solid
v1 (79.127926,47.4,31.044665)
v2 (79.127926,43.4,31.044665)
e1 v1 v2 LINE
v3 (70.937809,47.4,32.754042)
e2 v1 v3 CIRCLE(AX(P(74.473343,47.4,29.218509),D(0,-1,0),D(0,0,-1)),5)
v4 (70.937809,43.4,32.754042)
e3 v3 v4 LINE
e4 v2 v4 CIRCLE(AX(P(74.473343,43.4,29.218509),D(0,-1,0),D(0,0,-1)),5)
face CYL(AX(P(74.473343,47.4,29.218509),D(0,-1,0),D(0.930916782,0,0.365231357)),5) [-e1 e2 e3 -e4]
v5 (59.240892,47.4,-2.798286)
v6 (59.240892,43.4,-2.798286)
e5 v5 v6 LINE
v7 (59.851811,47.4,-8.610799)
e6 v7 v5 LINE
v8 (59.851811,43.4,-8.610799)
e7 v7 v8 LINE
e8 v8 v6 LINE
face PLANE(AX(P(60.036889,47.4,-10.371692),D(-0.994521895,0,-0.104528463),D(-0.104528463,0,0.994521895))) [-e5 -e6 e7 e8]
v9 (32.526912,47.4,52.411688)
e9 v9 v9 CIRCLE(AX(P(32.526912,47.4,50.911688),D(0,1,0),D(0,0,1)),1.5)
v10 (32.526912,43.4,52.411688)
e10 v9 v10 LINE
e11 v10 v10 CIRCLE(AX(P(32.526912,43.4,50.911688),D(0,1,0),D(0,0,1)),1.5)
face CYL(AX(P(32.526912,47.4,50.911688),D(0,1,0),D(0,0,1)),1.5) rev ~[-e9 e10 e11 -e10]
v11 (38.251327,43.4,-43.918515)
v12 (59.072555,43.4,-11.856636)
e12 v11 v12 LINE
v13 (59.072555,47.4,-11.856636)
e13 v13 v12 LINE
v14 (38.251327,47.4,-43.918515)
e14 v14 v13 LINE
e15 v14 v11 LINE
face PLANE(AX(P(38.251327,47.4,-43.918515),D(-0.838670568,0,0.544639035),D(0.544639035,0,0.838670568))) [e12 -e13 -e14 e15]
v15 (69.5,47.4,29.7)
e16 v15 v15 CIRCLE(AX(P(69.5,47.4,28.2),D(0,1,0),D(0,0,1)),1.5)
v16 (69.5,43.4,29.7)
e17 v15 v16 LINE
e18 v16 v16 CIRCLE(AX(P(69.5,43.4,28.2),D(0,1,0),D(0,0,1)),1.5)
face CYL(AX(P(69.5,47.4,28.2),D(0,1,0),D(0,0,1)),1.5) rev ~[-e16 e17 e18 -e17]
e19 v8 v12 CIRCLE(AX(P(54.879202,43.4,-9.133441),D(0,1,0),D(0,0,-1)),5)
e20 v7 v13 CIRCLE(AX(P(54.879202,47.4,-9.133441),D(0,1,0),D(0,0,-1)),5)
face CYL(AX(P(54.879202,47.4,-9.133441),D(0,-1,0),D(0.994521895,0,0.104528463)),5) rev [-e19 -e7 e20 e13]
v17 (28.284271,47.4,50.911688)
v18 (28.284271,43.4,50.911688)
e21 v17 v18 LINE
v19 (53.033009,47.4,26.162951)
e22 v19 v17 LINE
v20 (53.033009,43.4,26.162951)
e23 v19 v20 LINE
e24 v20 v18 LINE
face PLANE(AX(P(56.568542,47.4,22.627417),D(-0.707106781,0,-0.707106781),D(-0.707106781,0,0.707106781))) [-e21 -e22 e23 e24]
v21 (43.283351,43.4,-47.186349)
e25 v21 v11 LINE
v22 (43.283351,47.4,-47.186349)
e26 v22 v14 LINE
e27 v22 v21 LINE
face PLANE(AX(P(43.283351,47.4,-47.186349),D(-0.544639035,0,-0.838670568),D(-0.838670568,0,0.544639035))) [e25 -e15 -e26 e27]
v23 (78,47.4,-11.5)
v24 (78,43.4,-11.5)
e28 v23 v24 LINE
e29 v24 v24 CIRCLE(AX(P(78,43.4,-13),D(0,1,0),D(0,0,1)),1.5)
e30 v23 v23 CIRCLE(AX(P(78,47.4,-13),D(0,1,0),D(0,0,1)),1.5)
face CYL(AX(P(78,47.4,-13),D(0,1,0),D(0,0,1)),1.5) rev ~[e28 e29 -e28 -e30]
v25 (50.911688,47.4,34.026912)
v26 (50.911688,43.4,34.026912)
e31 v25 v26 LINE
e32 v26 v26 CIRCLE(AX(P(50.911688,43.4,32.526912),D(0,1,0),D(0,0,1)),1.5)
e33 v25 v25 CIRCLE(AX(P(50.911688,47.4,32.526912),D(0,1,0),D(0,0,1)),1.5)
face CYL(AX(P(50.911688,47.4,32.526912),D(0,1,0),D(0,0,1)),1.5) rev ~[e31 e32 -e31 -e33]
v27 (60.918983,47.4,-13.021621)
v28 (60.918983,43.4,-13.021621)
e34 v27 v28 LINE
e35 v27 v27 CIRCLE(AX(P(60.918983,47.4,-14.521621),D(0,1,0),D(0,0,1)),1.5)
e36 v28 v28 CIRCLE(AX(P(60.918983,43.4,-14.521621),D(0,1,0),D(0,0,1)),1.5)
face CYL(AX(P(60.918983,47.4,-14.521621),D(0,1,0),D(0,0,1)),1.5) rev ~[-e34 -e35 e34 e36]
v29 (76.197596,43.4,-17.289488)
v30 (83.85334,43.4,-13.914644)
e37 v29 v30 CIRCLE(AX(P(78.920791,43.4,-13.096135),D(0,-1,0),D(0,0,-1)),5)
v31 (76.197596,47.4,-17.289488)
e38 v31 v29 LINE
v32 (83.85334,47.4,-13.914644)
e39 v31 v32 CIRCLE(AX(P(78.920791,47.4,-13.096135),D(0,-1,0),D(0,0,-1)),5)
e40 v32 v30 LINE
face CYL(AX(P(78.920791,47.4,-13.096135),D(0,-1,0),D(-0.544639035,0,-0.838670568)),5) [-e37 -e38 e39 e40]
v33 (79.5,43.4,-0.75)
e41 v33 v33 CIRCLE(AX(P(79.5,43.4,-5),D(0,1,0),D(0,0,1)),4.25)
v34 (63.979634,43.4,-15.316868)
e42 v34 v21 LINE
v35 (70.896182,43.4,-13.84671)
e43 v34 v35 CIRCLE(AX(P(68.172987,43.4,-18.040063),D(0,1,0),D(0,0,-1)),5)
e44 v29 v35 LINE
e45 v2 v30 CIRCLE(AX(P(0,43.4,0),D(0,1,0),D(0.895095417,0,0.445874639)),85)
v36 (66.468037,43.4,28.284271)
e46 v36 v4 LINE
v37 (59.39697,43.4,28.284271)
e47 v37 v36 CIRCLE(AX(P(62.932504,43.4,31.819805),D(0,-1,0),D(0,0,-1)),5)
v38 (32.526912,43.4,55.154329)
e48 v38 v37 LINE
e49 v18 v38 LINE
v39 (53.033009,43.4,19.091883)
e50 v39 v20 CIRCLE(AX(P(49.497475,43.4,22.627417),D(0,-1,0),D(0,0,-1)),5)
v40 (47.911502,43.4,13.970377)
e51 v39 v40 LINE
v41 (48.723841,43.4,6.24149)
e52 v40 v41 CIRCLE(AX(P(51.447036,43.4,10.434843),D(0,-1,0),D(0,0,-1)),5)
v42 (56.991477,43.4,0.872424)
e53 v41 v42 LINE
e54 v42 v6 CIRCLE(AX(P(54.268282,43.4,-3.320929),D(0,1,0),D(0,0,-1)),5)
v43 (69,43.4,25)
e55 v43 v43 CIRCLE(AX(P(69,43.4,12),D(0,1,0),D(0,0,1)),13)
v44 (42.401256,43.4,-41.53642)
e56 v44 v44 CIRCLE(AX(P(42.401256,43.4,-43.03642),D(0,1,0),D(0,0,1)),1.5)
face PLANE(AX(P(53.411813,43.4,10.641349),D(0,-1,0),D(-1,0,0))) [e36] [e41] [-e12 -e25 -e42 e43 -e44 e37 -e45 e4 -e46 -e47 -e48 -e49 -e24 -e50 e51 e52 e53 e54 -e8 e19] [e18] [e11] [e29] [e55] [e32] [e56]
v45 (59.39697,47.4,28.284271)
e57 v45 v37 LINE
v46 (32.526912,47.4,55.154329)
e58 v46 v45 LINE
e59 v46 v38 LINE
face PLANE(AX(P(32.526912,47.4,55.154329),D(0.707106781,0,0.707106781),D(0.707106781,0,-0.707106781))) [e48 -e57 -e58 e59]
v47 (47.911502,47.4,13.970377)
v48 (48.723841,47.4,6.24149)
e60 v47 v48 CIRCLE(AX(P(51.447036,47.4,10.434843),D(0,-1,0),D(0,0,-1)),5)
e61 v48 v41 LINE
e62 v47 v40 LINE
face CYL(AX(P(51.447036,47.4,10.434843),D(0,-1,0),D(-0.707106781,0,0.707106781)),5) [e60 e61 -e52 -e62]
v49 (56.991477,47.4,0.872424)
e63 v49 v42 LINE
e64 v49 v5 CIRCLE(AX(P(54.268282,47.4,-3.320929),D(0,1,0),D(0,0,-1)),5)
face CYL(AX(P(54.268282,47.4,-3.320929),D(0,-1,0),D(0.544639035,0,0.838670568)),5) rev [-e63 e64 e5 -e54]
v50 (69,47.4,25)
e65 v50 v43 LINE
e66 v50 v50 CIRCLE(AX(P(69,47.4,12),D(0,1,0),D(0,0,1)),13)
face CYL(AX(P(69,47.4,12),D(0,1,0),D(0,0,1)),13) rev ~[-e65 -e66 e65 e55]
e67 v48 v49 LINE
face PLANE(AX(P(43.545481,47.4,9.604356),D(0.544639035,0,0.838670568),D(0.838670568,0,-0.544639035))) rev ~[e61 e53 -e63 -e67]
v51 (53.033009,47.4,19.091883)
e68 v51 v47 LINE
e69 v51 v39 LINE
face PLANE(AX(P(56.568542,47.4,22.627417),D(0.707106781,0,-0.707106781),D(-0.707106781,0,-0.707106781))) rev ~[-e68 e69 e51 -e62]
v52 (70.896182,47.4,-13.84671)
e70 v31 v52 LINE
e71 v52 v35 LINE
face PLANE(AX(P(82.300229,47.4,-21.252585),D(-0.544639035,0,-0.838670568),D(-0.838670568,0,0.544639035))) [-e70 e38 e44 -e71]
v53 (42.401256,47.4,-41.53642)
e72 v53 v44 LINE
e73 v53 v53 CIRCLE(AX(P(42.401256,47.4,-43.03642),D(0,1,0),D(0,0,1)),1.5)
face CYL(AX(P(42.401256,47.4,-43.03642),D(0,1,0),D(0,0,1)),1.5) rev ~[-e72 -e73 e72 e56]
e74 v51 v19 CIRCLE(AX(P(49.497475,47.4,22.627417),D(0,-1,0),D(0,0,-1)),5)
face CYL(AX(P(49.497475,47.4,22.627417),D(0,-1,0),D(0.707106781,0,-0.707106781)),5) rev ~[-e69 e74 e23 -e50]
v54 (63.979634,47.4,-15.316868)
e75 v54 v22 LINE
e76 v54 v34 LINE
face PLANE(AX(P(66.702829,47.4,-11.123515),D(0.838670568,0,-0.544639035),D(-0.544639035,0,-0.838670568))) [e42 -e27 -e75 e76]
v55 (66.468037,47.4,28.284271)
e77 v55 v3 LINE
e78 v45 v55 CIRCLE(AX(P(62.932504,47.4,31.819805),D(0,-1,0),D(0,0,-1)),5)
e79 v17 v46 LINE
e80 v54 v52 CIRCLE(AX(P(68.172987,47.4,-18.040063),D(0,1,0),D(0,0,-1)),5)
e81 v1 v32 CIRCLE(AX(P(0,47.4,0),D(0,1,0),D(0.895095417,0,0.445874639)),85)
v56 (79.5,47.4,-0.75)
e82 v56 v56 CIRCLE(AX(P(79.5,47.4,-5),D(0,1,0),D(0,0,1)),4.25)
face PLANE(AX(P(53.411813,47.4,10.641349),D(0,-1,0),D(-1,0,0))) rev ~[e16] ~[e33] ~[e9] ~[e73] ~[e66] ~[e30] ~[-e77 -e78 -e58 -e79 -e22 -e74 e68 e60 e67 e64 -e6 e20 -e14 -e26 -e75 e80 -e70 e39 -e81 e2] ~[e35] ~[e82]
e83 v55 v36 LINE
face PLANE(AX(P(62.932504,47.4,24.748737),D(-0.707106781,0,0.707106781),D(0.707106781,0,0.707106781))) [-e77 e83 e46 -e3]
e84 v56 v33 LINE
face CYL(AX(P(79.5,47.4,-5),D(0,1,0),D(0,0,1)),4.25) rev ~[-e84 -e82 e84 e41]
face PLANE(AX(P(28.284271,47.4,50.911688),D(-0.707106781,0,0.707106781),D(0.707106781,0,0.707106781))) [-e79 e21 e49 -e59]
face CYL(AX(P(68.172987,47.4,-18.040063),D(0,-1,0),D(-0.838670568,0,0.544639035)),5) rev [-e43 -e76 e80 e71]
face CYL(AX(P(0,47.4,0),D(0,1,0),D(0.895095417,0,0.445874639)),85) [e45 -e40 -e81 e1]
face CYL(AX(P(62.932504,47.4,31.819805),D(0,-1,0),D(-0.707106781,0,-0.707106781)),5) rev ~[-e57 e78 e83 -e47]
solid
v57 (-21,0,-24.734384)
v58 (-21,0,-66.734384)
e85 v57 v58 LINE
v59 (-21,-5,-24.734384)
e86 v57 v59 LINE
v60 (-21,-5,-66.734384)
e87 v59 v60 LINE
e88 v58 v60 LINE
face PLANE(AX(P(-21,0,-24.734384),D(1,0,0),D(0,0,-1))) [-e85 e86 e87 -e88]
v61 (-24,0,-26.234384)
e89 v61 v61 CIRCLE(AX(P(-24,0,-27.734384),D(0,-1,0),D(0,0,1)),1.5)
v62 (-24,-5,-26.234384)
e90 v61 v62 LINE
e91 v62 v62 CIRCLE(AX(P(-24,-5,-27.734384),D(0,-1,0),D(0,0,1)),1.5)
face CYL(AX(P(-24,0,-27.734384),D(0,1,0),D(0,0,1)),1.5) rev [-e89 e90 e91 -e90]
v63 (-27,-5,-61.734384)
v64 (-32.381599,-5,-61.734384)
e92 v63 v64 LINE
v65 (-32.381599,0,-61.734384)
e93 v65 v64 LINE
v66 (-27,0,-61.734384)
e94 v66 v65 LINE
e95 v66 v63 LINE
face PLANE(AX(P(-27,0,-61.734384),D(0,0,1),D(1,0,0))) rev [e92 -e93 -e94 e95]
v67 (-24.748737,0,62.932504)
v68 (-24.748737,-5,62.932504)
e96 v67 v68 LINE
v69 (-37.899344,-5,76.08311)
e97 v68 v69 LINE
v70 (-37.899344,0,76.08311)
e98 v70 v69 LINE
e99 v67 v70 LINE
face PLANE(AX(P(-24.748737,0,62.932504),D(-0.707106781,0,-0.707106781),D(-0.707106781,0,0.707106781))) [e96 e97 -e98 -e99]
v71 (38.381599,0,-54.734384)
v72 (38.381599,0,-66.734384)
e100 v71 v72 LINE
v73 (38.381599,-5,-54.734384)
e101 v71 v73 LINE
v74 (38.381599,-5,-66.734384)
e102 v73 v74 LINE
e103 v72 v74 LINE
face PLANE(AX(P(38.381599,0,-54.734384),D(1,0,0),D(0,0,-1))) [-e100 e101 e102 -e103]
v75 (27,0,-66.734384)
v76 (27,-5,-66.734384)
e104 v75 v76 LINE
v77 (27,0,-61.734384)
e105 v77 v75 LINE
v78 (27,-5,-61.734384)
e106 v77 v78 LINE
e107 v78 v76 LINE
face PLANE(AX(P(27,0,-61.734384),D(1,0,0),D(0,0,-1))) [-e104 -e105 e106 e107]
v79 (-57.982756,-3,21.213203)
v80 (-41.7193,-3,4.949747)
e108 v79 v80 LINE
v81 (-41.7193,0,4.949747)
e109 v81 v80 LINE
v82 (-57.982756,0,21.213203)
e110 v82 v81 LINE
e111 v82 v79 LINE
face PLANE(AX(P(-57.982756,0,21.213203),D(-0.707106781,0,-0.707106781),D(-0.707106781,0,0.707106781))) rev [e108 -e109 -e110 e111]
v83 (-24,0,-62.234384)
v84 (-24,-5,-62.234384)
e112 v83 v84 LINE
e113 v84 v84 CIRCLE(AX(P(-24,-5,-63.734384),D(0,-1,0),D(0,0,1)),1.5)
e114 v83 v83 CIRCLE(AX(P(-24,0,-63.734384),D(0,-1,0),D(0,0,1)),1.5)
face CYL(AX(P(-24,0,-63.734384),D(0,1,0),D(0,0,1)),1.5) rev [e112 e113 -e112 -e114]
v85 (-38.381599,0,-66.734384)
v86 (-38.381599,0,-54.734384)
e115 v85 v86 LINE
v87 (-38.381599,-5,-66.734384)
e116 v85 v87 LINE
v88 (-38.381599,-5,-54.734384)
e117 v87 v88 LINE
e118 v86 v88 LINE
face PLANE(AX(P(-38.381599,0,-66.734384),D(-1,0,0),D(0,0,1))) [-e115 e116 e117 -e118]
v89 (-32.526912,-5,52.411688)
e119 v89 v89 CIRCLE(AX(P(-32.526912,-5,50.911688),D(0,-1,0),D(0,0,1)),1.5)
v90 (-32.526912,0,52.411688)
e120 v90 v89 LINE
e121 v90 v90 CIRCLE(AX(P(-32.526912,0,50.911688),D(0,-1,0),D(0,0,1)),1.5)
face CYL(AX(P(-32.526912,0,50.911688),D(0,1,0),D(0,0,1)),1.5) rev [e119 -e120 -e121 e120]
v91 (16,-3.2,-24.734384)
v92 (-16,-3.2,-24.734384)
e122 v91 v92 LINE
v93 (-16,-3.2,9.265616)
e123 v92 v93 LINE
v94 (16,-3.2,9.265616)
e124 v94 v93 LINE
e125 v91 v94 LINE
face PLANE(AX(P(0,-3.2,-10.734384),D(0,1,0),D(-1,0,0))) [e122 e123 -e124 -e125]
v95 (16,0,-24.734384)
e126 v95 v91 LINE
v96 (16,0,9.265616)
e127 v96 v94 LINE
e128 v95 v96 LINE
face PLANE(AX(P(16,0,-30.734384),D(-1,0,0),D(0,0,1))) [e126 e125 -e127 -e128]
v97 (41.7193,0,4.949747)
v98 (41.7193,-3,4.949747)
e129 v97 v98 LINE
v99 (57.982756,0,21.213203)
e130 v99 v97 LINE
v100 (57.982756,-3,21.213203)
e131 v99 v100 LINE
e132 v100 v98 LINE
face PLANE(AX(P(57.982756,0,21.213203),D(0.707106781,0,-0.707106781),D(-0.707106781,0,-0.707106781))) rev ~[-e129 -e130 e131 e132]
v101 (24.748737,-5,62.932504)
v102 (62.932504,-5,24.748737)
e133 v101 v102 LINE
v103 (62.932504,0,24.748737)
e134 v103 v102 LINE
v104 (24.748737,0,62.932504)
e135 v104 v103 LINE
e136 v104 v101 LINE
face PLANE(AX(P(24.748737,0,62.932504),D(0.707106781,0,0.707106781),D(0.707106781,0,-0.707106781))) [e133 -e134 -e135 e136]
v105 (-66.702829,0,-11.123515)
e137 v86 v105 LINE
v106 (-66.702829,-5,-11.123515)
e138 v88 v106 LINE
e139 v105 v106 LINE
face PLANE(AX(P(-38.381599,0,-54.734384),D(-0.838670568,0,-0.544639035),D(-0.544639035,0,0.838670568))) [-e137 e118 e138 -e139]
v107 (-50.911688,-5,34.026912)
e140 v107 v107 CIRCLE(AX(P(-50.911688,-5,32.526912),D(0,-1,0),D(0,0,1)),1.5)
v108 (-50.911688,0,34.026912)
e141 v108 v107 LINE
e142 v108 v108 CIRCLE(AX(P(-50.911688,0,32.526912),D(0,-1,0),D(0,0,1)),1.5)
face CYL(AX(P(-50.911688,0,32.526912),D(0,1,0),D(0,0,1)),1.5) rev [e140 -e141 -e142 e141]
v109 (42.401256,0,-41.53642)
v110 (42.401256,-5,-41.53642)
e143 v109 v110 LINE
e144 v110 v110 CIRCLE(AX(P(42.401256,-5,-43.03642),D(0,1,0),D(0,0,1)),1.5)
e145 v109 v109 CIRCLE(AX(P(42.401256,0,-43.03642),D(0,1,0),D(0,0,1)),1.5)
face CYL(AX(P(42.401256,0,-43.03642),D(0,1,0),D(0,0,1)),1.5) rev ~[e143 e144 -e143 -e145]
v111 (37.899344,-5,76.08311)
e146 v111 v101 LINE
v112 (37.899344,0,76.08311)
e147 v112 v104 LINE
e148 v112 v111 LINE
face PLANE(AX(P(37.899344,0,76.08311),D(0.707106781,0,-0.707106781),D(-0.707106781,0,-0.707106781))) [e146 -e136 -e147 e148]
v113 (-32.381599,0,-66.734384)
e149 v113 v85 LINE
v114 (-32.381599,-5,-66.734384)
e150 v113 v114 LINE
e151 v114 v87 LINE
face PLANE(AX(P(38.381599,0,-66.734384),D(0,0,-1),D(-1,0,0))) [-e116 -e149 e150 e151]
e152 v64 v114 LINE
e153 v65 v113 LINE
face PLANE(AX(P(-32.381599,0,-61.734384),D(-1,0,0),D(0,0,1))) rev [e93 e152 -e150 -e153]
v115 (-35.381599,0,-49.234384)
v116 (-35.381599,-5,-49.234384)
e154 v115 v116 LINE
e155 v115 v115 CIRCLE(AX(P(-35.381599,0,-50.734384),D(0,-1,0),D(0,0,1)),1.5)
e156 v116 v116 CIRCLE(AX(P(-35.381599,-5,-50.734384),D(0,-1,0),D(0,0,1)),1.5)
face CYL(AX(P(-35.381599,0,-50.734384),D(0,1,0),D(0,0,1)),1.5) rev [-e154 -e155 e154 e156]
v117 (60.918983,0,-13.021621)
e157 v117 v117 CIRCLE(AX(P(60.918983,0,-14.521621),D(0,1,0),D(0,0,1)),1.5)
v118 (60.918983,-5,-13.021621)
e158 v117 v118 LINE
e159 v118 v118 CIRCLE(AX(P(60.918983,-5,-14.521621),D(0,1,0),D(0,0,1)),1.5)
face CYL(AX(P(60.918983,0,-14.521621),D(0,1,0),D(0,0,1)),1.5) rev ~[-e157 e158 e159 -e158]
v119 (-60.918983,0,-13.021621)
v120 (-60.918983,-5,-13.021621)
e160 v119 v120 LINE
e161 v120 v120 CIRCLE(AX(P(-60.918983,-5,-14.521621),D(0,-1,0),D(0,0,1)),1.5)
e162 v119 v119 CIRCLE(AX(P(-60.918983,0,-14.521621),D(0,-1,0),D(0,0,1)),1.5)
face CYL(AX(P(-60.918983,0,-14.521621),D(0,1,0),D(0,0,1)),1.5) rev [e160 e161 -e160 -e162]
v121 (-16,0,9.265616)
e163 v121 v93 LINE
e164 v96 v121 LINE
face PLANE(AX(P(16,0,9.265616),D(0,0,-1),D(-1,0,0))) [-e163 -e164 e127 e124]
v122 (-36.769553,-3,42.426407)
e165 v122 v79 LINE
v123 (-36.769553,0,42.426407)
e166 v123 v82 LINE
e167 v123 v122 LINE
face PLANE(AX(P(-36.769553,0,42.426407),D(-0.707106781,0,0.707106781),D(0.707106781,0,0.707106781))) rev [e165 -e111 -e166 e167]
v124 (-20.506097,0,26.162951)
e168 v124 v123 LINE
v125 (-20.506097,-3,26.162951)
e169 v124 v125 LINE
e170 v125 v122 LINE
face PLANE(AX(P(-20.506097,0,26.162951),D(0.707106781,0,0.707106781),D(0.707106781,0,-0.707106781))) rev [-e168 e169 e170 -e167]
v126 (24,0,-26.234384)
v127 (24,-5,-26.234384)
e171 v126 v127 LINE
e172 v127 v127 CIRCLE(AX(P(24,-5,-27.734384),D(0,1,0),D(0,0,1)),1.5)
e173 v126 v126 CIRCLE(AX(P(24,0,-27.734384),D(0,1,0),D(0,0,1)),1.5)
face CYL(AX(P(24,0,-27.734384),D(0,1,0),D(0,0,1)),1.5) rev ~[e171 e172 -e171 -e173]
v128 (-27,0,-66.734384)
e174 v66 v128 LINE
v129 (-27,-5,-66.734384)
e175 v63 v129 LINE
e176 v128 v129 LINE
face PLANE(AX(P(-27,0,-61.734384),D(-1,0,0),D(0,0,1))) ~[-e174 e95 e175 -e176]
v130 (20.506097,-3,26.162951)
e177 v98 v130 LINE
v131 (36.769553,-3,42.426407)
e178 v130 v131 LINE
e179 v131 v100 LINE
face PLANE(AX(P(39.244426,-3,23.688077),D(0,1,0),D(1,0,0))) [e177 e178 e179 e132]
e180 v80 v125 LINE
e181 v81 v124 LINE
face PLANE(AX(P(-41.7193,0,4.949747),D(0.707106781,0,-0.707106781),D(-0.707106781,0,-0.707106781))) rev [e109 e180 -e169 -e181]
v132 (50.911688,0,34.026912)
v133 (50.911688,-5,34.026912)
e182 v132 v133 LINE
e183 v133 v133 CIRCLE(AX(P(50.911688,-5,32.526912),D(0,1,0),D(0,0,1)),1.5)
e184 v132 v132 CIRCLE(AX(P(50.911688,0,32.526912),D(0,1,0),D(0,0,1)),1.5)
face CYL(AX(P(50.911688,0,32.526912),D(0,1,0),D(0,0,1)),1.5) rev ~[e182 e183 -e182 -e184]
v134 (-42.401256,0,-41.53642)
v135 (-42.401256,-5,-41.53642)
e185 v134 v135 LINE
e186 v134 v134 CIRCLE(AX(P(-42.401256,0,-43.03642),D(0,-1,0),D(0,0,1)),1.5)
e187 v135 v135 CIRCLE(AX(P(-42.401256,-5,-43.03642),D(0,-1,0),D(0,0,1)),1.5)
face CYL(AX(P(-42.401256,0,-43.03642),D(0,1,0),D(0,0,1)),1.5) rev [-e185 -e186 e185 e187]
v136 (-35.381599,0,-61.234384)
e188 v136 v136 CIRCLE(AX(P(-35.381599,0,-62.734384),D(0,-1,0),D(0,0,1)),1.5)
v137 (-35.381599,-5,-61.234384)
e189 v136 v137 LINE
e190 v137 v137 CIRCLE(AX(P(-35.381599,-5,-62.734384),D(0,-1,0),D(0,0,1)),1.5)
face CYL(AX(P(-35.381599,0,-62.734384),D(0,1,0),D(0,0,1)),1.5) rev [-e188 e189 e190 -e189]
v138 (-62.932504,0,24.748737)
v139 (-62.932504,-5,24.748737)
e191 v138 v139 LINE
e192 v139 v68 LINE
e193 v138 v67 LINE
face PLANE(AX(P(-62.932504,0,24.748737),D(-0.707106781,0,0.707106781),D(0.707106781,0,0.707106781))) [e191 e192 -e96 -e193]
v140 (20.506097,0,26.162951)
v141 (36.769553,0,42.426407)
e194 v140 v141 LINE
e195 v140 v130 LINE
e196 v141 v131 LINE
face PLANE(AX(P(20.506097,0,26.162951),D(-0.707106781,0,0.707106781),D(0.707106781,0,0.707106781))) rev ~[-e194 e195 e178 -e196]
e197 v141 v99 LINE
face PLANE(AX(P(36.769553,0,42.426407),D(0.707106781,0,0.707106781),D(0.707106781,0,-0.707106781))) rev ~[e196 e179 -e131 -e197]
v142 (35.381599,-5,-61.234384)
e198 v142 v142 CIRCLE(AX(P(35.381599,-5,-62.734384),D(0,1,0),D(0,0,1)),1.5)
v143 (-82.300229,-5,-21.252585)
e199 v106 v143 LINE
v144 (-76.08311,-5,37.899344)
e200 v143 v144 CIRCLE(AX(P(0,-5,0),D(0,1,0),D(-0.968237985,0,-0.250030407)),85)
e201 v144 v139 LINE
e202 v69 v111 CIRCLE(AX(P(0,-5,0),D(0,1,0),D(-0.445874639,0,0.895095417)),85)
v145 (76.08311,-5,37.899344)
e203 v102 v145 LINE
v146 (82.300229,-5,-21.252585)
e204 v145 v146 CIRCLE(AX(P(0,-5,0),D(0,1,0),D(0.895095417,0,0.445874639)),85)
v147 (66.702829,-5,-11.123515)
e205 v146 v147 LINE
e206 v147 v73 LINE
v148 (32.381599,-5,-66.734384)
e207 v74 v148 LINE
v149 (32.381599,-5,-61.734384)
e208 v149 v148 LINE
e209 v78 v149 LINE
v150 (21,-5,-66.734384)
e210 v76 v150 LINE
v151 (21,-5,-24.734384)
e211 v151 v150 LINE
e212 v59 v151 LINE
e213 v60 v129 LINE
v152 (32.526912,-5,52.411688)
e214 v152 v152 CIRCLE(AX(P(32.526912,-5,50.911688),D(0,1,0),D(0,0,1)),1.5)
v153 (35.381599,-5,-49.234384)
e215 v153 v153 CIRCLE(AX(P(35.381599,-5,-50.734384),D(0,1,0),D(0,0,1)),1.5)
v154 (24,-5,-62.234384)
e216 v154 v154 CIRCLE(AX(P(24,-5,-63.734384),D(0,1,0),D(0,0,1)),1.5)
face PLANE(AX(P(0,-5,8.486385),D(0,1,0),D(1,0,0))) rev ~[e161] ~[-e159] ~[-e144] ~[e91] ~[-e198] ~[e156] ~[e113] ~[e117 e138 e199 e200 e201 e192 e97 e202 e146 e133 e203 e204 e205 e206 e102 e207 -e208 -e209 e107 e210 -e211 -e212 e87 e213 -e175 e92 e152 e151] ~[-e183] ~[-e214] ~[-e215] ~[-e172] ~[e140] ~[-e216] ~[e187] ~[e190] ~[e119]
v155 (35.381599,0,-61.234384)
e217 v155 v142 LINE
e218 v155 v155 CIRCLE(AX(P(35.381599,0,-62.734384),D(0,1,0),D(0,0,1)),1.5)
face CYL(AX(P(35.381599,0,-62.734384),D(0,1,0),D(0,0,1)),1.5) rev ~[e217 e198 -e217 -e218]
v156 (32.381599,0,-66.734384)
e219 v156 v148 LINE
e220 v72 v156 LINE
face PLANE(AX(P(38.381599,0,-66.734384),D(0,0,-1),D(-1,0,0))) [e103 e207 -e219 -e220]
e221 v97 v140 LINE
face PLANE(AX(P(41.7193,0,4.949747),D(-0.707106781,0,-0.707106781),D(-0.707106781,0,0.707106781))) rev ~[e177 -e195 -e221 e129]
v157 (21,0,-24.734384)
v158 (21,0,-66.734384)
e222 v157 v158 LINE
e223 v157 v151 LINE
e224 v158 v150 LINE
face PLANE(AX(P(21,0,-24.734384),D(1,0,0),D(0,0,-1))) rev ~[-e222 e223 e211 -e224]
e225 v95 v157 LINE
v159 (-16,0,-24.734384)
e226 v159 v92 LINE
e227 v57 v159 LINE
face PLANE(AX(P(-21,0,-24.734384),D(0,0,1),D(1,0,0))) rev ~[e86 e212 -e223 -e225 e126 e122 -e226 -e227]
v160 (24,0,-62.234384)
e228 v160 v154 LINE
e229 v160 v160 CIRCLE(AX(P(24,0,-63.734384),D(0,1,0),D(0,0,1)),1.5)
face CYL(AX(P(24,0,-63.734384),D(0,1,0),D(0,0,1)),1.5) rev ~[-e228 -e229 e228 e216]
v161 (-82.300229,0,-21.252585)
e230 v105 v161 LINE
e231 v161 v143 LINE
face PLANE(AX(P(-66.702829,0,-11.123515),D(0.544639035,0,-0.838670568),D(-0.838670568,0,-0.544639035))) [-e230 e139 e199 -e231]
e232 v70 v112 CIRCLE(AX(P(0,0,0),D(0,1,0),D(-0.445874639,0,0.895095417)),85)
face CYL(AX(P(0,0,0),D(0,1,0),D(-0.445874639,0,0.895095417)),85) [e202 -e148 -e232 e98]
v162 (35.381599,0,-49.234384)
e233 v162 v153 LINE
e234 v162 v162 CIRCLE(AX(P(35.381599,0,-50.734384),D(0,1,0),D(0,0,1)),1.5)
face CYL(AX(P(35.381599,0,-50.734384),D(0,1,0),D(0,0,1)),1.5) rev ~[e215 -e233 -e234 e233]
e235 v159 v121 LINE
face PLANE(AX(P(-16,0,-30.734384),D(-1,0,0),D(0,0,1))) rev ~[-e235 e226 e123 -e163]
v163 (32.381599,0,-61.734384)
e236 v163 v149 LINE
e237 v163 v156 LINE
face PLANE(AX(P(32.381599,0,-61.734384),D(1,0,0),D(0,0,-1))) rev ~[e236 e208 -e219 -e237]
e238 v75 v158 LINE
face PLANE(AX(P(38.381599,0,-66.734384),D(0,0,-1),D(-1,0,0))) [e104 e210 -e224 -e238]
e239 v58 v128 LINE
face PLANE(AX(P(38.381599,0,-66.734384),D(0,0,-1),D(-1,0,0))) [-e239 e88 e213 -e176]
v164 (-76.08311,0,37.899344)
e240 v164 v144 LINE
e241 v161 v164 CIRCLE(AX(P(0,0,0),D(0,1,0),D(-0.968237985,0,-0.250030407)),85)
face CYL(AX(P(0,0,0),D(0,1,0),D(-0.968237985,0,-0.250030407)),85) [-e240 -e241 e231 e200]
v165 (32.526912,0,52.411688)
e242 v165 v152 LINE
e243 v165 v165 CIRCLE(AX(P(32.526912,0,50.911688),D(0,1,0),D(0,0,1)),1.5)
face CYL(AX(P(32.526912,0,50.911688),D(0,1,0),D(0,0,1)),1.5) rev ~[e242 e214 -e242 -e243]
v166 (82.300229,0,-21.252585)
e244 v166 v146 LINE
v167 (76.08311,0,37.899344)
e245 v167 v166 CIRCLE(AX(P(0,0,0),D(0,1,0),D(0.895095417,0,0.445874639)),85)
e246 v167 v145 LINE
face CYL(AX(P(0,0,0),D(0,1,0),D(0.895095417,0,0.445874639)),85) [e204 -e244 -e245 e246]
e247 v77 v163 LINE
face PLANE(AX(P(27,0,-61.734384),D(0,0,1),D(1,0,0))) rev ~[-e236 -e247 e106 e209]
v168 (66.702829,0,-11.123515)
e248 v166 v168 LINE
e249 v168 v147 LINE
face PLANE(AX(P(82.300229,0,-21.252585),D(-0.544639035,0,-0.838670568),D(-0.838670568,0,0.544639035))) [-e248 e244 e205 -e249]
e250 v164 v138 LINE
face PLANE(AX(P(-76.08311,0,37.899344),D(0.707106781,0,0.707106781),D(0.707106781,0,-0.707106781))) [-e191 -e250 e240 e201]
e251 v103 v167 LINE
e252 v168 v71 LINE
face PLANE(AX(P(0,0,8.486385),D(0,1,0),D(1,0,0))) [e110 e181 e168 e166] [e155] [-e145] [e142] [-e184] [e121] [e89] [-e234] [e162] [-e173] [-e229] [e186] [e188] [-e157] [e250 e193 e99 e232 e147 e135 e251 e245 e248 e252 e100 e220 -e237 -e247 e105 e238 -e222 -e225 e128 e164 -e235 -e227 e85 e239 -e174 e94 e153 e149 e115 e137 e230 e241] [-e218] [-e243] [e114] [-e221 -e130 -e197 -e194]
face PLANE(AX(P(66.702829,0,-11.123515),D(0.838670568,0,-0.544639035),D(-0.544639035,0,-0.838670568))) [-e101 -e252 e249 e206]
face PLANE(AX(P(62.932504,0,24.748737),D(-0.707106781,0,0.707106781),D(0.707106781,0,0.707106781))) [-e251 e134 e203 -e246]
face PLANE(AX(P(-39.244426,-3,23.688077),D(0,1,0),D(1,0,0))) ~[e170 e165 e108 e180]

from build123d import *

# Parameters (mm, degrees)
EXTRUDE1_DEPTH  = 5
SKETCH3_W       = 42
SKETCH3_H       = 47
EXTRUDE2_DEPTH  = 5
SKETCH4_W       = 32
SKETCH4_H       = 40
EXTRUDE3_DEPTH  = 3.2
EXTRUDE4_DEPTH  = 3
SKETCH6_R       = 1.5
EXTRUDE5_DEPTH  = 5
SKETCH7_R       = 1.5
EXTRUDE6_DEPTH  = 5
SKETCH8_W       = 5.381599337
SKETCH8_H       = 7
EXTRUDE7_DEPTH  = 5
SKETCH9_R       = 1.5
EXTRUDE8_DEPTH  = 5
EXTRUDE9_START  = 4
SKETCH10_R      = 1.5
EXTRUDE9_DEPTH  = 4
SKETCH14_R      = 4.25
EXTRUDE12_DEPTH = 4
SKETCH18_R      = 1.5
EXTRUDE16_DEPTH = 4
EXTRUDE18_DEPTH = 4
FILLET5_R       = 5
SKETCH23_R      = 1.5
EXTRUDE19_DEPTH = 4
SKETCH17_R      = 13
EXTRUDE20_DEPTH = 4


with BuildPart() as part:
    # Sketch2 → Extrude1 (new body)
    with BuildSketch(Plane(origin=(0, 0, 0), x_dir=(1, 0, 0), z_dir=(0, 1, 0))):
        with BuildLine():
            Line((82.300228734, 21.252584555), (66.702829158, 11.123514836))
            Line((66.702829158, 11.123514836), (38.381599337, 54.73438437))
            Line((38.381599337, 54.73438437), (38.381599337, 66.73438437))
            Line((38.381599337, 66.73438437), (-38.381599337, 66.73438437))
            Line((-38.381599337, 66.73438437), (-38.381599337, 54.73438437))
            Line((-38.381599337, 54.73438437), (-66.702829158, 11.123514836))
            Line((-66.702829158, 11.123514836), (-82.300228734, 21.252584555))
            ThreePointArc((-82.300228734, 21.252584555), (-84.534361106, -8.884919378), (-76.083110487, -37.899344303))
            Line((-76.083110487, -37.899344303), (-62.932503526, -24.748737342))
            Line((-62.932503526, -24.748737342), (-24.748737342, -62.932503526))
            Line((-24.748737342, -62.932503526), (-37.899344303, -76.083110487))
            ThreePointArc((-37.899344303, -76.083110487), (0, -85), (37.899344303, -76.083110487))
            Line((37.899344303, -76.083110487), (24.748737342, -62.932503526))
            Line((24.748737342, -62.932503526), (62.932503526, -24.748737342))
            Line((62.932503526, -24.748737342), (76.083110487, -37.899344303))
            ThreePointArc((76.083110487, -37.899344303), (84.534361106, -8.884919378), (82.300228734, 21.252584555))
        make_face()
    extrude(amount=-EXTRUDE1_DEPTH)

    # Sketch3 → Extrude2 (cut)
    with BuildSketch(Plane(origin=(0, 0, 0), x_dir=(1, 0, 0), z_dir=(0, 1, 0))):
        with Locations((0, 48.23438437)):
            Rectangle(SKETCH3_W, SKETCH3_H)
    extrude(amount=-EXTRUDE2_DEPTH, mode=Mode.SUBTRACT)

    # Sketch4 → Extrude3 (cut)
    with BuildSketch(Plane(origin=(0, 0, 0), x_dir=(-1, 0, 0), z_dir=(0, 1, 0))):
        with Locations((0, -10.73438437)):
            Rectangle(SKETCH4_W, SKETCH4_H)
    extrude(amount=-EXTRUDE3_DEPTH, mode=Mode.SUBTRACT)

    # Sketch5 → Extrude4 (cut)
    with BuildSketch(Plane(origin=(0, 0, 0), x_dir=(1, 0, 0), z_dir=(0, 1, 0))):
        Polygon((36.769552622, -42.426406871), (57.982756057, -21.213203436), (41.71930009, -4.949747468), (20.506096654, -26.162950904), align=None)
    extrude4 = extrude(amount=-EXTRUDE4_DEPTH, mode=Mode.SUBTRACT)

    # Mirror1: Extrude4 across plane
    add(extrude4.mirror(Plane(origin=(0, 0, 0), x_dir=(0, 0, 1), z_dir=(1, 0, 0))), mode=Mode.SUBTRACT)

    # Sketch6 → Extrude5 (cut)
    with BuildSketch(Plane(origin=(0, 0, 0), x_dir=(1, 0, 0), z_dir=(0, 1, 0))):
        with Locations(Location((42.401256054, 43.036420449, 0), (0, 0, 270))):
            Circle(SKETCH6_R)
        with Locations(Location((60.918983244, 14.521621139, 0), (0, 0, 270))):
            Circle(SKETCH6_R)
        with Locations(Location((50.911688245, -32.526911935, 0), (0, 0, 270))):
            Circle(SKETCH6_R)
        with Locations(Location((32.526911935, -50.911688245, 0), (0, 0, 270))):
            Circle(SKETCH6_R)
    extrude5 = extrude(amount=-EXTRUDE5_DEPTH, mode=Mode.SUBTRACT)

    # Mirror2: Extrude5 across plane
    add(extrude5.mirror(Plane(origin=(0, 0, 0), x_dir=(0, 0, 1), z_dir=(1, 0, 0))), mode=Mode.SUBTRACT)

    # Sketch7 → Extrude6 (cut)
    with BuildSketch(Plane(origin=(0, 0, 0), x_dir=(-1, 0, 0), z_dir=(0, 1, 0))):
        with Locations(Location((-24, -63.73438437, 0), (0, 0, 90))):
            Circle(SKETCH7_R)
        with Locations(Location((-24, -27.73438437, 0), (0, 0, 90))):
            Circle(SKETCH7_R)
    extrude6 = extrude(amount=-EXTRUDE6_DEPTH, mode=Mode.SUBTRACT)

    # Mirror3: Extrude6 across plane
    add(extrude6.mirror(Plane(origin=(0, 0, 0), x_dir=(0, 0, 1), z_dir=(1, 0, 0))), mode=Mode.SUBTRACT)

    # Sketch8 → Extrude7 (cut)
    with BuildSketch(Plane(origin=(0, 0, 0), x_dir=(1, 0, 0), z_dir=(0, 1, 0))):
        with Locations((29.690799669, 65.23438437)):
            Rectangle(SKETCH8_W, SKETCH8_H)
    extrude7 = extrude(amount=-EXTRUDE7_DEPTH, mode=Mode.SUBTRACT)

    # Mirror4: Extrude7 across plane
    add(extrude7.mirror(Plane(origin=(0, 0, 0), x_dir=(0, 0, 1), z_dir=(1, 0, 0))), mode=Mode.SUBTRACT)

    # Sketch9 → Extrude8 (cut)
    with BuildSketch(Plane(origin=(0, 0, 0), x_dir=(1, 0, 0), z_dir=(0, 1, 0))):
        with Locations(Location((35.381599337, 62.73438437, 0), (0, 0, 270))):
            Circle(SKETCH9_R)
        with Locations(Location((35.381599337, 50.73438437, 0), (0, 0, 270))):
            Circle(SKETCH9_R)
    extrude8 = extrude(amount=-EXTRUDE8_DEPTH, mode=Mode.SUBTRACT)

    # Mirror5: Extrude8 across plane
    add(extrude8.mirror(Plane(origin=(0, 0, 0), x_dir=(0, 0, 1), z_dir=(1, 0, 0))), mode=Mode.SUBTRACT)


with BuildPart() as body_2:
    # Sketch10 → Extrude9 (new body)
    with BuildSketch(Plane(origin=(0, 43.4, 0), x_dir=(-1, 0, 0), z_dir=(0, 1, 0)).offset(EXTRUDE9_START)):
        with BuildLine():
            Line((-43.283350652, -47.186349258), (-38.251327245, -43.918515048))
            Line((-38.251327245, -43.918515048), (-60.036888645, -10.37169233))
            Line((-60.036888645, -10.37169233), (-56.568542495, 22.627416998))
            Line((-56.568542495, 22.627416998), (-28.284271247, 50.911688245))
            Line((-28.284271247, 50.911688245), (-32.526911935, 55.154328933))
            Line((-32.526911935, 55.154328933), (-62.932503526, 24.748737342))
            Line((-62.932503526, 24.748737342), (-76.083110487, 37.899344303))
            ThreePointArc((-76.083110487, 37.899344303), (-84.534361106, 8.884919378), (-82.300228734, -21.252584555))
            Line((-82.300228734, -21.252584555), (-66.702829158, -11.123514836))
            Line((-66.702829158, -11.123514836), (-43.283350652, -47.186349258))
        make_face()
        with Locations(Location((-42.401256054, -43.036420449, 0), (0, 0, 90))):
            Circle(SKETCH10_R, mode=Mode.SUBTRACT)
        with Locations(Location((-60.918983244, -14.521621139, 0), (0, 0, 90))):
            Circle(SKETCH10_R, mode=Mode.SUBTRACT)
        with Locations(Location((-50.911688245, 32.526911935, 0), (0, 0, 90))):
            Circle(SKETCH10_R, mode=Mode.SUBTRACT)
        with Locations(Location((-32.526911935, 50.911688245, 0), (0, 0, 90))):
            Circle(SKETCH10_R, mode=Mode.SUBTRACT)
    extrude(amount=-EXTRUDE9_DEPTH)

    # Sketch14 → Extrude12 (cut)
    with BuildSketch(Plane(origin=(0, 47.4, 0), x_dir=(1, 0, 0), z_dir=(0, 1, 0))):
        with Locations(Location((79.5, 5, 0), (0, 0, 270))):
            Circle(SKETCH14_R)
    extrude(amount=-EXTRUDE12_DEPTH, mode=Mode.SUBTRACT)

    # Sketch18 → Extrude16 (cut)
    with BuildSketch(Plane(origin=(0, 47.4, 0), x_dir=(1, 0, 0), z_dir=(0, 1, 0))):
        with Locations(Location((78, 13, 0), (0, 0, 270))):
            Circle(SKETCH18_R)
    extrude(amount=-EXTRUDE16_DEPTH, mode=Mode.SUBTRACT)

    # Sketch21 → Extrude18 (add)
    with BuildSketch(Plane(origin=(0, 47.4, 0), x_dir=(1, 0, 0), z_dir=(0, 1, 0))):
        Polygon((56.568542495, -22.627416998), (43.545481419, -9.604355922), (58.991604013, 0.426473376), align=None)
    extrude(amount=-EXTRUDE18_DEPTH)

    # Fillet5
    fillet5_edges = [body_2.edges().sort_by_distance(p)[0] for p in [
        (66.702829158, 45.4, -11.123514836),
        (82.300228734, 45.4, -21.252584555),
        (76.083110487, 45.4, 37.899344303),
        (62.932503526, 45.4, 24.748737342),
        (56.568542495, 45.4, 22.627416998),
        (60.036888645, 45.4, -10.37169233),
        (43.545481419, 45.4, 9.604355922),
        (58.991604013, 45.4, -0.426473376),
    ]]
    fillet(fillet5_edges, radius=FILLET5_R)

    # Sketch23 → Extrude19 (cut)
    with BuildSketch(Plane(origin=(0, 47.4, 0), x_dir=(1, 0, 0), z_dir=(0, 1, 0))):
        with Locations(Location((69.5, -28.2, 0), (0, 0, 270))):
            Circle(SKETCH23_R)
    extrude(amount=-EXTRUDE19_DEPTH, mode=Mode.SUBTRACT)

    # Sketch17 → Extrude20 (cut)
    with BuildSketch(Plane(origin=(0, 47.4, 0), x_dir=(1, 0, 0), z_dir=(0, 1, 0))):
        with Locations(Location((69, -12, 0), (0, 0, 270))):
            Circle(SKETCH17_R)
    extrude(amount=-EXTRUDE20_DEPTH, mode=Mode.SUBTRACT)


solid = Compound([part.part, body_2.part])
